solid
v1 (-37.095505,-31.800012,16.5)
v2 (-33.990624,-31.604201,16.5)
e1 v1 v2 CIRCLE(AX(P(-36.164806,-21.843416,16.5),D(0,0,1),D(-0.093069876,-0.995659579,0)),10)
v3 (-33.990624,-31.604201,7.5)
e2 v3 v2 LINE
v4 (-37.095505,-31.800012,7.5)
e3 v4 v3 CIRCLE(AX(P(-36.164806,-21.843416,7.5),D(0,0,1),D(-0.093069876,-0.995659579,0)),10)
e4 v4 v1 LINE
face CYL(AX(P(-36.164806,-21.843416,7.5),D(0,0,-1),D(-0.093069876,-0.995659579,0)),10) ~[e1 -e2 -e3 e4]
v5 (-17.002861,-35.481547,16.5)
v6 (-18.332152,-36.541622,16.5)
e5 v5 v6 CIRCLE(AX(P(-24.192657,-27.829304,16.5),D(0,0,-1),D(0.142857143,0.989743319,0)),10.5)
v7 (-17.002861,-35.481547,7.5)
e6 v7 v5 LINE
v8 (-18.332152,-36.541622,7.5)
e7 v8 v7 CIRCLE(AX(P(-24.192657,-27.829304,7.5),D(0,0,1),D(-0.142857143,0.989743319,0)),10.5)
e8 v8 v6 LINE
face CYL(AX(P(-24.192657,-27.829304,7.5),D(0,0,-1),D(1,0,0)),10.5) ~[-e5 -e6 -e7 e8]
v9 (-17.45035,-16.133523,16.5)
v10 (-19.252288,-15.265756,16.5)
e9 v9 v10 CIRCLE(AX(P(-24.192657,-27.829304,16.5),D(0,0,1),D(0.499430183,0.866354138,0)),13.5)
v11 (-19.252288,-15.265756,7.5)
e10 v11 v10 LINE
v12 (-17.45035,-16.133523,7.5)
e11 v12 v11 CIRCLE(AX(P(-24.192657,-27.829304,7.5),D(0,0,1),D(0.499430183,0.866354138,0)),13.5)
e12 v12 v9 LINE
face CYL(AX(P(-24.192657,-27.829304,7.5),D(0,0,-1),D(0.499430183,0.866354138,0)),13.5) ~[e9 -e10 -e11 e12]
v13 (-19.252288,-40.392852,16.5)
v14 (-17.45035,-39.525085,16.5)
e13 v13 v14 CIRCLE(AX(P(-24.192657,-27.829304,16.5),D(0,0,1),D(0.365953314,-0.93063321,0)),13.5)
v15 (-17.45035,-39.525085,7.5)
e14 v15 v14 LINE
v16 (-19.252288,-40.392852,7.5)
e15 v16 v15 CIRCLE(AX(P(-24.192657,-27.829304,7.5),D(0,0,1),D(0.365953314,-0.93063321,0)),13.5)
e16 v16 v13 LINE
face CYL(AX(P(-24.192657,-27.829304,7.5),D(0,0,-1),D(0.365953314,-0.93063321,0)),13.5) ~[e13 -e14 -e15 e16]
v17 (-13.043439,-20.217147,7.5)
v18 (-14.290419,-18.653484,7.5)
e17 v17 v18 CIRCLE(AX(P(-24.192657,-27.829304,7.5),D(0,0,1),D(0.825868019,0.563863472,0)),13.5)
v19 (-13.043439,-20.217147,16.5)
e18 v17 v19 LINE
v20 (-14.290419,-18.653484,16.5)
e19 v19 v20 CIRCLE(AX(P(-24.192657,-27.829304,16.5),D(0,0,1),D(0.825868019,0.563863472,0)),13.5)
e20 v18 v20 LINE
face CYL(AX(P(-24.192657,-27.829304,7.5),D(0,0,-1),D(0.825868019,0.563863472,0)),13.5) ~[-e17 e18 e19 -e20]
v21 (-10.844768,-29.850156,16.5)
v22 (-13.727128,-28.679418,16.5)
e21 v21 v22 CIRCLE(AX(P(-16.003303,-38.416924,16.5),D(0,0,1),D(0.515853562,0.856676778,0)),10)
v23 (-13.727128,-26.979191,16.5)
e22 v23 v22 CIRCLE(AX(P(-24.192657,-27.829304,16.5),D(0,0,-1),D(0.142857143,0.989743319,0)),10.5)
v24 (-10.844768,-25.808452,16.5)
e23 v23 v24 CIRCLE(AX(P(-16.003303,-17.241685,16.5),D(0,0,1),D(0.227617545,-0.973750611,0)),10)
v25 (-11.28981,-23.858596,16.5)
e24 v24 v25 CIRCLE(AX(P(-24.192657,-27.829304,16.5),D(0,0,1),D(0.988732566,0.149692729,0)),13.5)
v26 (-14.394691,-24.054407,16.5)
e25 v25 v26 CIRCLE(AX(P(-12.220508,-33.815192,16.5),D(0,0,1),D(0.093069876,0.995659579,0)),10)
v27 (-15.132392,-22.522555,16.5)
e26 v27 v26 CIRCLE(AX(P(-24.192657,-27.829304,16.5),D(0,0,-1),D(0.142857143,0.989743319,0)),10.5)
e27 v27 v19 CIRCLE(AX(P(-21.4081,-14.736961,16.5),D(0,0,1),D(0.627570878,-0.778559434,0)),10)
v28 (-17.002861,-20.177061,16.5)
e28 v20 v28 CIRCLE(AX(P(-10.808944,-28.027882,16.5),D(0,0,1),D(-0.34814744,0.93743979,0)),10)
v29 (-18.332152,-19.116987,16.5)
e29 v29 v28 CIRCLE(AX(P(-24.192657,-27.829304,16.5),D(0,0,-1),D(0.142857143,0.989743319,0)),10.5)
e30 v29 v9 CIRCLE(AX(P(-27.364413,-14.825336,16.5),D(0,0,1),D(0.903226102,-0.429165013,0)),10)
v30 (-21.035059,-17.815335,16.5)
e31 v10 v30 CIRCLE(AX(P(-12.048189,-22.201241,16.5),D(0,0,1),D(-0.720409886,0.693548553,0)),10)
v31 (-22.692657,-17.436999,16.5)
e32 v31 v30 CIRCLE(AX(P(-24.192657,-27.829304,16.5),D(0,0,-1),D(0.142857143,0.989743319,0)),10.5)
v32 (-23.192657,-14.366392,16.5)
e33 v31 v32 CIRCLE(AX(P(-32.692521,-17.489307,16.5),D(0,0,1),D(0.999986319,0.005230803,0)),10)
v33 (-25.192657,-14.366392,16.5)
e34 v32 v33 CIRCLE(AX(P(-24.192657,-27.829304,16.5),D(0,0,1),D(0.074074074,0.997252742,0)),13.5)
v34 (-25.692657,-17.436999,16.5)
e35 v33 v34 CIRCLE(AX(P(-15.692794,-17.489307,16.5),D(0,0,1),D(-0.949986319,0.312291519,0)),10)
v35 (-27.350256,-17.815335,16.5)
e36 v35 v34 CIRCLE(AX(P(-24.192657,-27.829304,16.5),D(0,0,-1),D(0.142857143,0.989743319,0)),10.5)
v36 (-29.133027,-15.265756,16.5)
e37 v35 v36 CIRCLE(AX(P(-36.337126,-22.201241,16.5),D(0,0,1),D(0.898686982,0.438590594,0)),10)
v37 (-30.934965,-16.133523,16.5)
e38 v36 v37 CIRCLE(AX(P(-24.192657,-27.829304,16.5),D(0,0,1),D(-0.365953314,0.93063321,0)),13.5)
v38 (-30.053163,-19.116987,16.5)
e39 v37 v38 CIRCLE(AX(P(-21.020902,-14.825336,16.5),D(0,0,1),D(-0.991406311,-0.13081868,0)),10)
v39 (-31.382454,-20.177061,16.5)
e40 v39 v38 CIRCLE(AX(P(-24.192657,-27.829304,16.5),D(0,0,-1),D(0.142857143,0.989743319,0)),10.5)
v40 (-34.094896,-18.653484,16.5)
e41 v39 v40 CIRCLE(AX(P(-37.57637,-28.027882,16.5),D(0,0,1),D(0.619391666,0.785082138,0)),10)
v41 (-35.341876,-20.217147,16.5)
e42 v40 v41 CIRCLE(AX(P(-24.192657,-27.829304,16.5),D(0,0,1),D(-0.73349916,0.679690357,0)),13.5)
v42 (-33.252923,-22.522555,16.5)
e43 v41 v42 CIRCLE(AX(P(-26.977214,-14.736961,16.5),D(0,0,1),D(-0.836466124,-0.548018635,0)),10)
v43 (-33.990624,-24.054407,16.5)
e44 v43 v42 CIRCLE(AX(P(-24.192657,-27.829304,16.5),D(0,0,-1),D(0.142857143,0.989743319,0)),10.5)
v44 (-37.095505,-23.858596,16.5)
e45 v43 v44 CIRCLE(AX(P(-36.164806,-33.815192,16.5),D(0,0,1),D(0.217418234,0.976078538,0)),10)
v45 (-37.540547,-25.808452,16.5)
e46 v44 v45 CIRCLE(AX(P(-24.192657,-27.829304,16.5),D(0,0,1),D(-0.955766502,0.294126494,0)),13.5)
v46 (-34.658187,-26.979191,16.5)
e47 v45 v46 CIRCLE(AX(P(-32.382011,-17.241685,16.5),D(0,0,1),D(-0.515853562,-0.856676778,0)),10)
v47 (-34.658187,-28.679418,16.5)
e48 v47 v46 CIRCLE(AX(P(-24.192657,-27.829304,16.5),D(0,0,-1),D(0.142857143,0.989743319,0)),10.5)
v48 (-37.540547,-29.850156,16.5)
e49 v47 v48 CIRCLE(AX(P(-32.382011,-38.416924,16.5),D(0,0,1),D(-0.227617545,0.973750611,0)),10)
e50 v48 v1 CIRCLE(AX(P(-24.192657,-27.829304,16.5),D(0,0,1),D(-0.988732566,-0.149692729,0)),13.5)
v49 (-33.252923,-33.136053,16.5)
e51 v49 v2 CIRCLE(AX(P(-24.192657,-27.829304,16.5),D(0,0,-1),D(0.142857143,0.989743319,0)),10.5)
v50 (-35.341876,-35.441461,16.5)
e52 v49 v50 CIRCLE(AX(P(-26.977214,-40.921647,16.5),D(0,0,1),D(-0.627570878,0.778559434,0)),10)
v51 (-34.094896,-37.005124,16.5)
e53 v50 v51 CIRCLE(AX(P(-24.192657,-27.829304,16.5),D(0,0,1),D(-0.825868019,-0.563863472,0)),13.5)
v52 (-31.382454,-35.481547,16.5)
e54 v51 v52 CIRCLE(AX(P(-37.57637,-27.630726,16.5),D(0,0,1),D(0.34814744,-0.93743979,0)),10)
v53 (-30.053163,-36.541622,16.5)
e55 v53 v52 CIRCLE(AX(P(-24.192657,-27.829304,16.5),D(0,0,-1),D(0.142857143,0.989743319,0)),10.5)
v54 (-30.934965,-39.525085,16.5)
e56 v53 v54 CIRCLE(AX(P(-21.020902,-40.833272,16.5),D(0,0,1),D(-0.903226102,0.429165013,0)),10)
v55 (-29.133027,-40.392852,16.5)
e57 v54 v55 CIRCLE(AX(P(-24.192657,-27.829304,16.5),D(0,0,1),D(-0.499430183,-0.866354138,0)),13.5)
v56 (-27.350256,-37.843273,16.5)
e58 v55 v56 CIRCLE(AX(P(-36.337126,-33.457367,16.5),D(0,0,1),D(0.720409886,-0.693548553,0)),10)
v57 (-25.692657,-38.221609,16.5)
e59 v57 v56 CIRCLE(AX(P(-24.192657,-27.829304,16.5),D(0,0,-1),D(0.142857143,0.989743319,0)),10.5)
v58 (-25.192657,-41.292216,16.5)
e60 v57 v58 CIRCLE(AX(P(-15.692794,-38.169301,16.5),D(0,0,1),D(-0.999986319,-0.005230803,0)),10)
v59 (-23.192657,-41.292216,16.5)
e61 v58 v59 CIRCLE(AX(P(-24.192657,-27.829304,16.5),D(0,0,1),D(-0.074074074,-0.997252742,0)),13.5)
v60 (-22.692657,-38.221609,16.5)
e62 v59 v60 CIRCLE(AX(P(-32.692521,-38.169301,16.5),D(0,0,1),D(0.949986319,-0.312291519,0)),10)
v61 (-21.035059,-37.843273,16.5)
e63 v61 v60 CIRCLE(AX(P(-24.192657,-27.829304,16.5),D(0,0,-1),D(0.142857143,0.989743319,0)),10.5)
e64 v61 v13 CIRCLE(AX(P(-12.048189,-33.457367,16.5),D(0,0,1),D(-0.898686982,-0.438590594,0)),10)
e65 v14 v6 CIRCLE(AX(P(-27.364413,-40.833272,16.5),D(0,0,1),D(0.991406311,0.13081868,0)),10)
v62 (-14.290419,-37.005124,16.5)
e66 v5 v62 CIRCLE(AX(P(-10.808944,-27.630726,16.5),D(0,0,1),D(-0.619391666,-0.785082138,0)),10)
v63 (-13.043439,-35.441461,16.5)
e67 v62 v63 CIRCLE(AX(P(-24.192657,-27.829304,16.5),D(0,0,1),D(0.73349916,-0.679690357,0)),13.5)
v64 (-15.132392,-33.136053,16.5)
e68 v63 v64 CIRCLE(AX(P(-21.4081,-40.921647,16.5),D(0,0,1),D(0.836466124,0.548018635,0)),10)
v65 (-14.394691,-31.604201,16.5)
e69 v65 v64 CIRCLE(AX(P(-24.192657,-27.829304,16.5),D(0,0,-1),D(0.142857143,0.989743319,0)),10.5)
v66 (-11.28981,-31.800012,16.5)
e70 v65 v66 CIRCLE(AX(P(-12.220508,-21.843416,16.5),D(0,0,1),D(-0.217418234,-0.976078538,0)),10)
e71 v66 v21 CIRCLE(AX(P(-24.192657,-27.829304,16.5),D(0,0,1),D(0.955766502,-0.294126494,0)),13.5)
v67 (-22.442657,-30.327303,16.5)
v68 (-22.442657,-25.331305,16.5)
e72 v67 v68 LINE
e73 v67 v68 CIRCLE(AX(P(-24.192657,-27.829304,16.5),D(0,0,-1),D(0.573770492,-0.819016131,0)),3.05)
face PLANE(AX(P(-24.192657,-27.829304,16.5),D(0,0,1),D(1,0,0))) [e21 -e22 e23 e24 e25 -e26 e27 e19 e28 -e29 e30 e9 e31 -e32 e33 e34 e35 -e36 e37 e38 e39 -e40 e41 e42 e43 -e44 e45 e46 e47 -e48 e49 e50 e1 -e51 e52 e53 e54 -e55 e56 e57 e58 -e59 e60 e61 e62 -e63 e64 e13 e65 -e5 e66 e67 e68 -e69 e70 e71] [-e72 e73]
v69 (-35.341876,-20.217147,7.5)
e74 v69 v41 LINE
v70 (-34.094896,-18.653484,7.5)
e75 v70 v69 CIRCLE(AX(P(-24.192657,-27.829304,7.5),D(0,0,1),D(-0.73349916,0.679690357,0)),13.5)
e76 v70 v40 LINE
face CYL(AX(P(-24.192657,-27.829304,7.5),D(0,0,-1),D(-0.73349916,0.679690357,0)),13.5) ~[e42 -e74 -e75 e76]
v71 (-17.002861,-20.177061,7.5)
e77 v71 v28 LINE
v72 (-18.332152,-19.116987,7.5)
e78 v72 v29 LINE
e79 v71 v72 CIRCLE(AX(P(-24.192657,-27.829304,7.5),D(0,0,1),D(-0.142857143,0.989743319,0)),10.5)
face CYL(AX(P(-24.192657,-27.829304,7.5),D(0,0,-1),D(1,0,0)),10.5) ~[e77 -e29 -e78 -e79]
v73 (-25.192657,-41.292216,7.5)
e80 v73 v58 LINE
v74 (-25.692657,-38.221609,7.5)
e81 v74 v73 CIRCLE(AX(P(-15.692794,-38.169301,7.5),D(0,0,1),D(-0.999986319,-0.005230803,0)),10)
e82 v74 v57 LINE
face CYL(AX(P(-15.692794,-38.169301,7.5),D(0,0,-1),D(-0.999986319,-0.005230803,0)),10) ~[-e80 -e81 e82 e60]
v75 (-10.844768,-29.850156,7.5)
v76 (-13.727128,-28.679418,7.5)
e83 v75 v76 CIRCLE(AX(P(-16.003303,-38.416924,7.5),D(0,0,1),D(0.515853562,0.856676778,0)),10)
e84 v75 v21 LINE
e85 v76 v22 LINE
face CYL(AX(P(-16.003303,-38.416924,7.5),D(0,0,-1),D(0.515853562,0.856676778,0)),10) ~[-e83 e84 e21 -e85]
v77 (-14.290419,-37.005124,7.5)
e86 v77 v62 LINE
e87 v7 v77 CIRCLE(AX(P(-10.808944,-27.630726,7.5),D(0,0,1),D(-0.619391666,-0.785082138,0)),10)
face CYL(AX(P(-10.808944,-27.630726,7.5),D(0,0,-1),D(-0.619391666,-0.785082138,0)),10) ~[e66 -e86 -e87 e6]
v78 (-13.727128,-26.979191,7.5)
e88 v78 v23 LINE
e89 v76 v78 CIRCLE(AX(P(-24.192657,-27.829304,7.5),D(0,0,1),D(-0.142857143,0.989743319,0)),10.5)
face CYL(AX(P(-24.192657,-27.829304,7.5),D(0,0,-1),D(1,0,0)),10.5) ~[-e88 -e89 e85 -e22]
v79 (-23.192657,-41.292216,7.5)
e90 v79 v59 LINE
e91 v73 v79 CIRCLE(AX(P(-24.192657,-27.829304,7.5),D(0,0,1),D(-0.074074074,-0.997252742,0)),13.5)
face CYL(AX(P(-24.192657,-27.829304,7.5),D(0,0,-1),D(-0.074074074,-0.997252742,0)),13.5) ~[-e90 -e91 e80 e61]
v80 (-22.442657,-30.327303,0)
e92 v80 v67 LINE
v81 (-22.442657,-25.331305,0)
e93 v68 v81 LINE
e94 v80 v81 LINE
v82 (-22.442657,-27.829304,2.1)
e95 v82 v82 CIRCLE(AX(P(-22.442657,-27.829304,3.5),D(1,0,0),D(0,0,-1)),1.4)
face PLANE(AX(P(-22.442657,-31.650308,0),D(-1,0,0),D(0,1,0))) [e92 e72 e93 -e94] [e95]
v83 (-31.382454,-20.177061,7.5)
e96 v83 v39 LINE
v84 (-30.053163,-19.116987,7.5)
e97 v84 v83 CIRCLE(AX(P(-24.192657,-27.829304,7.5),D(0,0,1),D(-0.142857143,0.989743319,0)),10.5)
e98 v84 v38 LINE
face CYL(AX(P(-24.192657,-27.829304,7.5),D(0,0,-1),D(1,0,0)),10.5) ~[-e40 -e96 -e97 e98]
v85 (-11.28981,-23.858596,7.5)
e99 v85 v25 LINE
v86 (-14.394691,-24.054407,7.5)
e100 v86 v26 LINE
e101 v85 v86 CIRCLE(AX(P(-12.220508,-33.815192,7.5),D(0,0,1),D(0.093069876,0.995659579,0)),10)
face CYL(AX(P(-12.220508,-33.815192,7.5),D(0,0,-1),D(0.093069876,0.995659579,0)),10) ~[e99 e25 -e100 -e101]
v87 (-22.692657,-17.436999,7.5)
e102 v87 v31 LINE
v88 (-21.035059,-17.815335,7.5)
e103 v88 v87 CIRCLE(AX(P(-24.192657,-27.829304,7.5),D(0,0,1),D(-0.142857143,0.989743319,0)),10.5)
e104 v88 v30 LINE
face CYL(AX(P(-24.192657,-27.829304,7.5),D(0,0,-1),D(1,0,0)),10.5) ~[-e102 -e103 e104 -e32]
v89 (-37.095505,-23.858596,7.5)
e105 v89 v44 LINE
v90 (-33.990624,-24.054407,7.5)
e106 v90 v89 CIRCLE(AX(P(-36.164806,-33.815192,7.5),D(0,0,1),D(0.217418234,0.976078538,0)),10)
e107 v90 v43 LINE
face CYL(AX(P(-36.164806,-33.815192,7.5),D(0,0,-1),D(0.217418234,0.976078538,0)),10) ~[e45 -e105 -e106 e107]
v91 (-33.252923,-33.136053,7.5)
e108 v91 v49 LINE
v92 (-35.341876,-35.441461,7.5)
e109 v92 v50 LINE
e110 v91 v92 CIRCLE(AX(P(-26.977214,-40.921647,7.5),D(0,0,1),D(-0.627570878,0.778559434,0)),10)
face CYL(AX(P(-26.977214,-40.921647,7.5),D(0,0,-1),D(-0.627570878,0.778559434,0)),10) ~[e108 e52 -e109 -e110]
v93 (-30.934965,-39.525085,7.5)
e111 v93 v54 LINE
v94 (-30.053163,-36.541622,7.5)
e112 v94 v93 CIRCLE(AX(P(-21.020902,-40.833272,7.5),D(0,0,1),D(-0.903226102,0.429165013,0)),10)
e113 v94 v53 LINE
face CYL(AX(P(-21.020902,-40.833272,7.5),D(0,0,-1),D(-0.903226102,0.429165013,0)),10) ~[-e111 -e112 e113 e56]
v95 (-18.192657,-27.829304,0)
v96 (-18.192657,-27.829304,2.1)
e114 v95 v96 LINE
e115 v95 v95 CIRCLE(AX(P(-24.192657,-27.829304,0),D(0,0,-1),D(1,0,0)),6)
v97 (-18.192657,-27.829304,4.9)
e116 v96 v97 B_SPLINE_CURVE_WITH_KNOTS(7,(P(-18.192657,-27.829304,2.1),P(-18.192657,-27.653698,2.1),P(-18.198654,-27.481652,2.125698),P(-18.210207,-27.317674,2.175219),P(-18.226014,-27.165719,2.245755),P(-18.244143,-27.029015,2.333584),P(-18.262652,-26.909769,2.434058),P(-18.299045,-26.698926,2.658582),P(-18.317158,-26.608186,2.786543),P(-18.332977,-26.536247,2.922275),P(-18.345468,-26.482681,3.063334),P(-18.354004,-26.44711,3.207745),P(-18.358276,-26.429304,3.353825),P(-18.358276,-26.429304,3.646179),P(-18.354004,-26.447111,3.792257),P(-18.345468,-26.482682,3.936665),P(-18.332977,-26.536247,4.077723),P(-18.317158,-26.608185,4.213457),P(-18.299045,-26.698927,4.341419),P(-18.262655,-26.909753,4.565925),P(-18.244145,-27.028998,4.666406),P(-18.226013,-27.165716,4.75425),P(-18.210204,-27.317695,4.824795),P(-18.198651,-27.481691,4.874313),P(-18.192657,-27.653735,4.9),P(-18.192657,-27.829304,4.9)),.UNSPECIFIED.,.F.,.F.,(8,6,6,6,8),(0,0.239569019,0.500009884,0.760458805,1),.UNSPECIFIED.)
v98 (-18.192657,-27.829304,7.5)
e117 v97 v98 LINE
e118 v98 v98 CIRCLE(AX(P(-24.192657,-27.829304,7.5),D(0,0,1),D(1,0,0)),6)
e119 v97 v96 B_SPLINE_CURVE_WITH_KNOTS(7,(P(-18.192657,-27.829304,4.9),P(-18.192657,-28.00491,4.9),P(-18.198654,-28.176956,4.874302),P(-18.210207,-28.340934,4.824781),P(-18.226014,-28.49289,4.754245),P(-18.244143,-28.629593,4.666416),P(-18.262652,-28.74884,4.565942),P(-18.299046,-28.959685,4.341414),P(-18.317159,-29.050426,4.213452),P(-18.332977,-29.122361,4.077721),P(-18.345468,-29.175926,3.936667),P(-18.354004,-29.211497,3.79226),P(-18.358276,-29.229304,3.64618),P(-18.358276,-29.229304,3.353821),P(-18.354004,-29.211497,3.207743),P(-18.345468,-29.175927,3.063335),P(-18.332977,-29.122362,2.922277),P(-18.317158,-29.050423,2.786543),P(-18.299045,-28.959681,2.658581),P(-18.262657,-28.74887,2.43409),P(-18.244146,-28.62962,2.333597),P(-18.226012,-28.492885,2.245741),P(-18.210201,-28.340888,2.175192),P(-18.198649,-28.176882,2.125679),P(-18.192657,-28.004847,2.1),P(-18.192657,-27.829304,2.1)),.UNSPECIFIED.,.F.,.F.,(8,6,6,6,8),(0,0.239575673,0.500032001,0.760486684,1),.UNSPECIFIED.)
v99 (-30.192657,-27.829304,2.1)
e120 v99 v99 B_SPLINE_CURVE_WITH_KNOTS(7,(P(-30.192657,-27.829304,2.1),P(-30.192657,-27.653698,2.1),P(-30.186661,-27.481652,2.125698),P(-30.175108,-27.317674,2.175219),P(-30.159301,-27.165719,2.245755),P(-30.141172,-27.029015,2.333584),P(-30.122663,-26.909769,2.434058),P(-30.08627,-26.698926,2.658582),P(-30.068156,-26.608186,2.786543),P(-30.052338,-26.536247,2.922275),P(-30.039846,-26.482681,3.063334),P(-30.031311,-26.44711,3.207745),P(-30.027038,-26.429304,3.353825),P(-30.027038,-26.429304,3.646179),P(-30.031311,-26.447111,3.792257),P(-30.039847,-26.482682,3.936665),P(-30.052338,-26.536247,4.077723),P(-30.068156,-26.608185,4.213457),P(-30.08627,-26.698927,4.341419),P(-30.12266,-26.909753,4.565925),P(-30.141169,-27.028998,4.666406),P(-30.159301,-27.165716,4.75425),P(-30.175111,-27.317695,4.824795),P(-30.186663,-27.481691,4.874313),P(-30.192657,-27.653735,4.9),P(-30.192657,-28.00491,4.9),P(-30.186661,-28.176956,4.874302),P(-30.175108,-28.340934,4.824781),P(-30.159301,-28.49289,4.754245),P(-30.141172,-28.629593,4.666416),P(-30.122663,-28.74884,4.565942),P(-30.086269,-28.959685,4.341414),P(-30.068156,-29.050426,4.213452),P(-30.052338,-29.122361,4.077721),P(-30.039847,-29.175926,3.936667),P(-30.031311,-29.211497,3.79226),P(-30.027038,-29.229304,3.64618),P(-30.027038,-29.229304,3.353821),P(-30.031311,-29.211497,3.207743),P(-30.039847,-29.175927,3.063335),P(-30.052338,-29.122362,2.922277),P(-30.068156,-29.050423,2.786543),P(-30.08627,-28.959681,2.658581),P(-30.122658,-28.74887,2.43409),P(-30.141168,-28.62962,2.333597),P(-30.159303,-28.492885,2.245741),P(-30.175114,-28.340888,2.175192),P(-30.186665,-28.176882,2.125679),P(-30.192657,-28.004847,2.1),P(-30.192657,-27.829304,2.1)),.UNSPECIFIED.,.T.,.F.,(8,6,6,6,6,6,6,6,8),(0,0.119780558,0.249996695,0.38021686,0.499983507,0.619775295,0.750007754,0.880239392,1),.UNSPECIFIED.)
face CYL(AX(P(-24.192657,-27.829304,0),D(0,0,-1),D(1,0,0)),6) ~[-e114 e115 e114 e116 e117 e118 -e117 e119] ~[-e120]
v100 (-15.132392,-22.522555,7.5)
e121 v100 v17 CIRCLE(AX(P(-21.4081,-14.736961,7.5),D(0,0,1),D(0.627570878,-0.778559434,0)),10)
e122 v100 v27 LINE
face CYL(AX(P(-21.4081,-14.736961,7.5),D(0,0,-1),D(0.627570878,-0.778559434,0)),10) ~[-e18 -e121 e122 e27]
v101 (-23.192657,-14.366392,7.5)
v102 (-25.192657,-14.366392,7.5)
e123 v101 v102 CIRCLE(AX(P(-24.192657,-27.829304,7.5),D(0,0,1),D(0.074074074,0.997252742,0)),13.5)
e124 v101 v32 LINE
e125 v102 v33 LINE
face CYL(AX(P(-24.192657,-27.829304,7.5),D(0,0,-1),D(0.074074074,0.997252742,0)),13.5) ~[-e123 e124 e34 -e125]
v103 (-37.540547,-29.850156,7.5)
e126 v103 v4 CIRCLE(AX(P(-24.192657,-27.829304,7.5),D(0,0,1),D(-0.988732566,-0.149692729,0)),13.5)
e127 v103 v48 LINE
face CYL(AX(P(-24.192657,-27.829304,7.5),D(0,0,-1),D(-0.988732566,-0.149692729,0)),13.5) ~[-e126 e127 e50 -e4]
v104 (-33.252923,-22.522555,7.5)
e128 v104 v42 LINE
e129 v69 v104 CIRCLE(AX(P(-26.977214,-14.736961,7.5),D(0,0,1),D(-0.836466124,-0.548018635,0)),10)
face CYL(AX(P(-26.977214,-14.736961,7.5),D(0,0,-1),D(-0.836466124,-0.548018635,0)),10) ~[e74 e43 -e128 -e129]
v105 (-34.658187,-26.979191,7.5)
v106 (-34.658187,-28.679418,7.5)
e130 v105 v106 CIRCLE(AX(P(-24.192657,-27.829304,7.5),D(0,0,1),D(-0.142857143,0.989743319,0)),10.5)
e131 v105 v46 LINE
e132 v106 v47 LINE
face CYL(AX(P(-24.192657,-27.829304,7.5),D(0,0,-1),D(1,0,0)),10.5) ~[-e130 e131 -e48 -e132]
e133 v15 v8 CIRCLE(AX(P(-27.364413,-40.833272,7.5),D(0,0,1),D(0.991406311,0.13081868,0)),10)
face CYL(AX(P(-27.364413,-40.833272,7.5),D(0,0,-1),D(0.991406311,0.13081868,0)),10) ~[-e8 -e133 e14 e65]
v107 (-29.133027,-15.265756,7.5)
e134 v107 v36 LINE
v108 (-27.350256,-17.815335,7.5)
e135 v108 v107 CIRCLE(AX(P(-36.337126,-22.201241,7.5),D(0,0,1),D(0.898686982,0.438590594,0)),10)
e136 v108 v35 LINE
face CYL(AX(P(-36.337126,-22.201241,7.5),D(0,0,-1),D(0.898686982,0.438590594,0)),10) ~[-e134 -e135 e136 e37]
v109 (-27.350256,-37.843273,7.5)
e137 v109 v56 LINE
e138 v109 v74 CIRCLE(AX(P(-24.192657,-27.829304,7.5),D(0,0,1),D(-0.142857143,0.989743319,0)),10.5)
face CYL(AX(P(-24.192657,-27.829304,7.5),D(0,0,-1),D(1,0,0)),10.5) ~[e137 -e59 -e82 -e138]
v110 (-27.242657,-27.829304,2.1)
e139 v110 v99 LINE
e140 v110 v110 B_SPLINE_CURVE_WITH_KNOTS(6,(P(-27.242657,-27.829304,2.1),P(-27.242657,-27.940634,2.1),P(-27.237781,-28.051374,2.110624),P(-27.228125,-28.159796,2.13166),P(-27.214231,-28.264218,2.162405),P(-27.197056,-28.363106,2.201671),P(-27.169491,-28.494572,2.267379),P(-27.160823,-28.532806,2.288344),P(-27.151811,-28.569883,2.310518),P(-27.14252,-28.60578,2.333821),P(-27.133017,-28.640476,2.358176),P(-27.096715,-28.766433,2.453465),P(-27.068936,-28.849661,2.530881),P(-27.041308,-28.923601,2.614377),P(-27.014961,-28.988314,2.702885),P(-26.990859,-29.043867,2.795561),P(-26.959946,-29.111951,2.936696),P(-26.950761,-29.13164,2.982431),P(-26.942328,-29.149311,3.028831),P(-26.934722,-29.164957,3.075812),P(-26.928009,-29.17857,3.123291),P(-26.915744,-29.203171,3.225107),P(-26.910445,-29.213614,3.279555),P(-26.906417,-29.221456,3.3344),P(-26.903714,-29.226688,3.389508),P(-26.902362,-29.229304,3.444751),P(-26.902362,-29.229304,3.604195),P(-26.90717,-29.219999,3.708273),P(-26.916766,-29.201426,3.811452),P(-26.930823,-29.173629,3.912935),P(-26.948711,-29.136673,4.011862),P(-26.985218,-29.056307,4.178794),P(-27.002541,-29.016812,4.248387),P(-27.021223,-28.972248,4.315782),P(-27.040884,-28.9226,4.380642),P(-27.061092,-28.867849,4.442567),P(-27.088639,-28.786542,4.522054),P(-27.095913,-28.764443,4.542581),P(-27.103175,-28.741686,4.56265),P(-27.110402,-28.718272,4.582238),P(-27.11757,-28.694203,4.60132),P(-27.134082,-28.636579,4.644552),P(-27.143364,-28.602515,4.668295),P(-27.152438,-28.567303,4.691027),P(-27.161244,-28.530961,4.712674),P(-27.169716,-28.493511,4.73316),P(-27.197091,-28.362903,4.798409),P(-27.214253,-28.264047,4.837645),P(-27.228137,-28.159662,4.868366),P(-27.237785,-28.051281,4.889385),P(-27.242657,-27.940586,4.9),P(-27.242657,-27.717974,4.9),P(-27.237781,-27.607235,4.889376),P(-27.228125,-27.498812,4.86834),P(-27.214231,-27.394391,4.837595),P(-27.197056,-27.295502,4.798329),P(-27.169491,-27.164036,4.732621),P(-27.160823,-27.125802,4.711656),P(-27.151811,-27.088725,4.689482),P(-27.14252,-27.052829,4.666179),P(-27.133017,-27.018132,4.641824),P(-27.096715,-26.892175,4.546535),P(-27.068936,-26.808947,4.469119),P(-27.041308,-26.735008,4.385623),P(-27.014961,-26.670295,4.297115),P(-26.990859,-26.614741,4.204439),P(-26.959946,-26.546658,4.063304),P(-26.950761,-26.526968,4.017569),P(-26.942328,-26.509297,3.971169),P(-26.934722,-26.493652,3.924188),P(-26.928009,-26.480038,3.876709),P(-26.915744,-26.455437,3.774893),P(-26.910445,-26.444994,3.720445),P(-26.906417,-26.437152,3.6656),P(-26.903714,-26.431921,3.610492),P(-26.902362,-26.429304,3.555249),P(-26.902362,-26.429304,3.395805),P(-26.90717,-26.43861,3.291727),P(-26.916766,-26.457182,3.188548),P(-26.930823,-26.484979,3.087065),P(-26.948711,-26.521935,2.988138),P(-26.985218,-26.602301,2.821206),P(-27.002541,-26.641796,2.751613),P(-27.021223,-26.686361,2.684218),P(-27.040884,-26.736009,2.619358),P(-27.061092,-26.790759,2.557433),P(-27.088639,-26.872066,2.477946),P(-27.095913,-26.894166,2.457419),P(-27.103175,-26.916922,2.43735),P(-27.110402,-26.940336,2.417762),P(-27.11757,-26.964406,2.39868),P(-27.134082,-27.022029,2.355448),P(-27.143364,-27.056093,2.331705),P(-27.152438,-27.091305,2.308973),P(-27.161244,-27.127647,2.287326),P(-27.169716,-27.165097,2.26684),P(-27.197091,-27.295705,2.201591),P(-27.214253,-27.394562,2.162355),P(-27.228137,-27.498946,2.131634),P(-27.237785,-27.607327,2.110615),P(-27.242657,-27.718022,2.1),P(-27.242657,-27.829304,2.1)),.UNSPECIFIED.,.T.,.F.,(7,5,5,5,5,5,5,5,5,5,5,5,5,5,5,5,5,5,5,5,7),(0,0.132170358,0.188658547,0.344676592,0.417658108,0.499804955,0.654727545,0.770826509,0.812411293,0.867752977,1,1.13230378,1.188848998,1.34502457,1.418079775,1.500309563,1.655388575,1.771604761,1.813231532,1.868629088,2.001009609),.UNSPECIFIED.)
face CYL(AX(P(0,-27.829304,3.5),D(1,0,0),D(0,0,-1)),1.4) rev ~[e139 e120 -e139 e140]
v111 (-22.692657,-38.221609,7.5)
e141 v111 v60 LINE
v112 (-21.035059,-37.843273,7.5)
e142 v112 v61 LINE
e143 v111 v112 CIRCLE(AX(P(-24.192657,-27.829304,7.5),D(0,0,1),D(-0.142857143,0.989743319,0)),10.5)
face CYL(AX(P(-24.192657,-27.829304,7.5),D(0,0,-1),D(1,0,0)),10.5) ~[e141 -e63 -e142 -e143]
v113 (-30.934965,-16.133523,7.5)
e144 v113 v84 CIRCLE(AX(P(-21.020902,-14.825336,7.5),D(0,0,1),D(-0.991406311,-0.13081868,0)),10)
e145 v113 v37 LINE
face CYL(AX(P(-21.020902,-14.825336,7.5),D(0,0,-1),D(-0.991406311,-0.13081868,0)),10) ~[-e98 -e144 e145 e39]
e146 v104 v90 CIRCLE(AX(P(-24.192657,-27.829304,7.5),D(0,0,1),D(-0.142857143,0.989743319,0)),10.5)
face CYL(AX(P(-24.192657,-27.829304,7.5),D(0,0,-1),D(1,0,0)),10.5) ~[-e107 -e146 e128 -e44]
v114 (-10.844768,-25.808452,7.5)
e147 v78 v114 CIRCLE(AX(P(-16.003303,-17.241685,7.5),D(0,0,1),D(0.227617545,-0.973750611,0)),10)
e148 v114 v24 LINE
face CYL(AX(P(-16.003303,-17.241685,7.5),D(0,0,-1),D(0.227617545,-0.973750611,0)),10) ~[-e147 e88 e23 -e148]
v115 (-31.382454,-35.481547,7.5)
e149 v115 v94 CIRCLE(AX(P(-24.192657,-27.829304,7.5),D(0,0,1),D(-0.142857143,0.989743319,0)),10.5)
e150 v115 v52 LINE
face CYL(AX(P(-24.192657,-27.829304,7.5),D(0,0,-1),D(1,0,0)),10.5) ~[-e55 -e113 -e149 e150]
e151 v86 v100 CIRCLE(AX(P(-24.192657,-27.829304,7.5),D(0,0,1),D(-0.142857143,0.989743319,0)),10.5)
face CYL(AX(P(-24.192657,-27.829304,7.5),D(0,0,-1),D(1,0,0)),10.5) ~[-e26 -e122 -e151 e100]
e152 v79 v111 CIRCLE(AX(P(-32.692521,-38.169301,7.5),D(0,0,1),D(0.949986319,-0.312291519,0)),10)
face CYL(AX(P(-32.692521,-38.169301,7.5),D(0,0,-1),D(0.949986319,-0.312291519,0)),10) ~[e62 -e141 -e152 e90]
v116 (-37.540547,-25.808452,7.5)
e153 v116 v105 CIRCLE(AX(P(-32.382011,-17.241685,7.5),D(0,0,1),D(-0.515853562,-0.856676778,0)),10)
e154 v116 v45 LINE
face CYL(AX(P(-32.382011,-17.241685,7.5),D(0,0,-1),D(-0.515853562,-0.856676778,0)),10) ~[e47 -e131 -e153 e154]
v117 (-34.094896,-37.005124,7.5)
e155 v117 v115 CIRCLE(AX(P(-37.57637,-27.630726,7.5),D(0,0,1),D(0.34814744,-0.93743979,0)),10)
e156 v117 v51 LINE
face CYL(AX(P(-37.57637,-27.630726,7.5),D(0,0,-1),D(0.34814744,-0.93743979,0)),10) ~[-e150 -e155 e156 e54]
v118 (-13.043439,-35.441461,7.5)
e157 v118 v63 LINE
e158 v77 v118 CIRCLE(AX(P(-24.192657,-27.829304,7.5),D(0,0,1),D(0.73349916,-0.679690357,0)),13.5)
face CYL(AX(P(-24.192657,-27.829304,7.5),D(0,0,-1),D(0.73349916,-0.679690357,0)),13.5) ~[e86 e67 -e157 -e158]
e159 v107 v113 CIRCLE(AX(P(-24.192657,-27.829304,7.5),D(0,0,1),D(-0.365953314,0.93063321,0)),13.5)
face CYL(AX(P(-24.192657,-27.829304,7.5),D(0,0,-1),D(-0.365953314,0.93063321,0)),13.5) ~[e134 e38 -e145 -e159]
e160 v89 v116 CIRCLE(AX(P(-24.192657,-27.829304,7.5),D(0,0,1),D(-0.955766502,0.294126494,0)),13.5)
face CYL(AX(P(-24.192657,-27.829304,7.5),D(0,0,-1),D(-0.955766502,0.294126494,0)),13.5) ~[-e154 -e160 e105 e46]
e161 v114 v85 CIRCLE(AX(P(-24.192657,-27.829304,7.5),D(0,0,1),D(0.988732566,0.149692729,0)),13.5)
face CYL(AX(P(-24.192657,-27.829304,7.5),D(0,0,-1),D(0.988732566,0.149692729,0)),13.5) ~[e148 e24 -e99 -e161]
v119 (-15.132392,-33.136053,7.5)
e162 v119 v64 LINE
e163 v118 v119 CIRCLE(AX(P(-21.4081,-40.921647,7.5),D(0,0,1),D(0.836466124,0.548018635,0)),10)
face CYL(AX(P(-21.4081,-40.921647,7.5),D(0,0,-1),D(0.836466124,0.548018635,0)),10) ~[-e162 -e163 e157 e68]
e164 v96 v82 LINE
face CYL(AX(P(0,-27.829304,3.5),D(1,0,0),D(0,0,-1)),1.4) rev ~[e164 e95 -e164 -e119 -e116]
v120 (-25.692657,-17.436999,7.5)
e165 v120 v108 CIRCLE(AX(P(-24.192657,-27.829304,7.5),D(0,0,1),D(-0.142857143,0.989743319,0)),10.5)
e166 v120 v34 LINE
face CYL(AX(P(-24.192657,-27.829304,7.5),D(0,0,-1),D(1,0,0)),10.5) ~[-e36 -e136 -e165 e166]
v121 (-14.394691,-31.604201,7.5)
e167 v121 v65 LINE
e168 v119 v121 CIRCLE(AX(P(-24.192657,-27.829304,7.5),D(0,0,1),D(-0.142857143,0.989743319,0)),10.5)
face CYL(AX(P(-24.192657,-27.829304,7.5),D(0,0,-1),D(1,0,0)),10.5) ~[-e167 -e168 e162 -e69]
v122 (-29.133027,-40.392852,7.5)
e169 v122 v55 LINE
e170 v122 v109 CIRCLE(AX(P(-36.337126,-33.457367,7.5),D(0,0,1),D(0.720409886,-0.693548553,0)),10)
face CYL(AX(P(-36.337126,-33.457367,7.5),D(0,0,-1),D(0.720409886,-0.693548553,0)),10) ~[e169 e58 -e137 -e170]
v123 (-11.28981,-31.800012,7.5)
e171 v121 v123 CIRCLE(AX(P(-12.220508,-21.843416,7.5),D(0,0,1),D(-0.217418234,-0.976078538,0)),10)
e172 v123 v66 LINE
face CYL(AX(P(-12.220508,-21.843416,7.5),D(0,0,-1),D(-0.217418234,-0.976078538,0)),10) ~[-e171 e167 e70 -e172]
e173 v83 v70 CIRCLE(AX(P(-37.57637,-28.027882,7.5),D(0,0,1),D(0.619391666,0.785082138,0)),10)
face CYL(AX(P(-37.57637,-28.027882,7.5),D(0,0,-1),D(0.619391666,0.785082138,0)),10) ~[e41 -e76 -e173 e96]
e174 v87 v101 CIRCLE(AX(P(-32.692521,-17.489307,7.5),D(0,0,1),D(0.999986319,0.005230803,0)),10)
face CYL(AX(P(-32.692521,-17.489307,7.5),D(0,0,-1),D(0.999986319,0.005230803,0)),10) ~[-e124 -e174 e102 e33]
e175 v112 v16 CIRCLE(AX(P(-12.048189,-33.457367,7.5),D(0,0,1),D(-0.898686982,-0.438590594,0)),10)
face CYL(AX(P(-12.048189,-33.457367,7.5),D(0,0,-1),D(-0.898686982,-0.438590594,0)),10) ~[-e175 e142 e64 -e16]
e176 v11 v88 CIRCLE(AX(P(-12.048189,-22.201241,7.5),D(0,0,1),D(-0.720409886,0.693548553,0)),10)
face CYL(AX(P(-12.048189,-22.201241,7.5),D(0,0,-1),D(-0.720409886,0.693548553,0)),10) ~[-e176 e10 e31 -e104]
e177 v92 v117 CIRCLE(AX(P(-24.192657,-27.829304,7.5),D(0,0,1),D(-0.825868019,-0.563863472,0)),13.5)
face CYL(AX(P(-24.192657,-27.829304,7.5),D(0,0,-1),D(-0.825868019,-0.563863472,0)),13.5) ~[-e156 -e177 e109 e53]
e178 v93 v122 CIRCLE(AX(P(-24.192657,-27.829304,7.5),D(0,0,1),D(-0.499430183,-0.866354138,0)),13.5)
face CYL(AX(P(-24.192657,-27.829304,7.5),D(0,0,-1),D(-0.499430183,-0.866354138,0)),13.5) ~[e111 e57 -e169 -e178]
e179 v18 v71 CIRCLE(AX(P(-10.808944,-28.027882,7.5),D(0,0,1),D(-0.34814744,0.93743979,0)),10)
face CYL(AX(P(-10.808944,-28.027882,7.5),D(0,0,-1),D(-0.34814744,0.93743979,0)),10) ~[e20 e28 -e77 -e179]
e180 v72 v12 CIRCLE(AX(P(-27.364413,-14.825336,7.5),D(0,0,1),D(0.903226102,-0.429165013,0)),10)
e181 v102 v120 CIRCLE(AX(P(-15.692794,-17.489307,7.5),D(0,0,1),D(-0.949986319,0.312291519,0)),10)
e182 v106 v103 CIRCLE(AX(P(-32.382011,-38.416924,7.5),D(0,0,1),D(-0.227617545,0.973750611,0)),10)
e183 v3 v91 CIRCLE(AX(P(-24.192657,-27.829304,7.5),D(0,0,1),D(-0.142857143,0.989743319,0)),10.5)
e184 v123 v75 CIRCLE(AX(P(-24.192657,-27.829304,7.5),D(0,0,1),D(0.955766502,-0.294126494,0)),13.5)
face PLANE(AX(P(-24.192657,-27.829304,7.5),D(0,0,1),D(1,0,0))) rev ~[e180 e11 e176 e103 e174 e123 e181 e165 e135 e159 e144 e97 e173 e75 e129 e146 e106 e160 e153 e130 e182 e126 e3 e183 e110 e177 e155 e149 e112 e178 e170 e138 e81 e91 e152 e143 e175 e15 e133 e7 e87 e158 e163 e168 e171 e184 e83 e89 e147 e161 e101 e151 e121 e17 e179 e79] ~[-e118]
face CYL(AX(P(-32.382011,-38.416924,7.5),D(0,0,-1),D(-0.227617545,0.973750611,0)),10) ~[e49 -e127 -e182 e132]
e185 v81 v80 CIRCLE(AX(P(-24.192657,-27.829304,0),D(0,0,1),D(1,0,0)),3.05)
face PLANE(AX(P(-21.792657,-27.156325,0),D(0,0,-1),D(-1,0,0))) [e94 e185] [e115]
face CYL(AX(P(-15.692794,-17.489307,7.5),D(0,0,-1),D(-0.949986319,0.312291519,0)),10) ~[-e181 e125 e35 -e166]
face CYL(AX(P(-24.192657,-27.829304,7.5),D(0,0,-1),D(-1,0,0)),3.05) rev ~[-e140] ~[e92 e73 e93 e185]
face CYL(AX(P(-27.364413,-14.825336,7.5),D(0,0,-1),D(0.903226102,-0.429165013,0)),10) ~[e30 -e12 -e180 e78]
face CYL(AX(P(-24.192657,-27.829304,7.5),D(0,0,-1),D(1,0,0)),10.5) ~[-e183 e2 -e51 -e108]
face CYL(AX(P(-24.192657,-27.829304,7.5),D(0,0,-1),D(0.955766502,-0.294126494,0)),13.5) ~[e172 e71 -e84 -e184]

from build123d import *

# Parameters (mm, degrees)
SKETCH1_R               = 6
SKETCH1_R_2             = 3.05
BOSS_EXTRUDE1_DEPTH     = 7.5
SKETCH2_R               = 10.5
BOSS_EXTRUDE3_DEPTH     = 9
BOSS_EXTRUDE4_DEPTH     = 9
CIRPATTERN1_COUNT       = 14
SKETCH3_R               = 3.05
CUT_EXTRUDE1_DEPTH      = 10
SKETCH5_W               = 1.3
SKETCH5_H               = 8.98796618
BOSS_EXTRUDE5_DEPTH     = 16.5
SKETCH4_R               = 1.4
CUT_EXTRUDE2_DEPTH      = 1
CUT_EXTRUDE2_DEPTH_BACK = 38.540546983


with BuildPart() as part:
    # Sketch1 → Boss-Extrude1 (new body)
    with BuildSketch(Plane.XY):
        with Locations((-24.192657344, -27.82930415)):
            Circle(SKETCH1_R)
        with Locations((-24.192657344, -27.82930415)):
            Circle(SKETCH1_R_2, mode=Mode.SUBTRACT)
    extrude(amount=BOSS_EXTRUDE1_DEPTH)

    # Sketch2 → Boss-Extrude3 (add)
    with BuildSketch(Plane.XY.offset(7.5)):
        with Locations((-24.192657344, -27.82930415)):
            Circle(SKETCH2_R)
    extrude(amount=BOSS_EXTRUDE3_DEPTH)

    # Sketch2<4> → Boss-Extrude4 (add)
    with BuildSketch(Plane.XY.offset(7.5)):
        with BuildLine():
            ThreePointArc((-22.692657344, -17.436999304), (-22.822516009, -15.882132595), (-23.192657344, -14.366392132))
            ThreePointArc((-23.192657344, -14.366392132), (-24.192657344, -14.32930415), (-25.192657344, -14.366392132))
            ThreePointArc((-25.192657344, -14.366392132), (-25.562798679, -15.882132595), (-25.692657344, -17.436999304))
            ThreePointArc((-25.692657344, -17.436999304), (-24.192657344, -17.32930415), (-22.692657344, -17.436999304))
        make_face()
    boss_extrude4 = extrude(amount=BOSS_EXTRUDE4_DEPTH)

    # CirPattern1: Boss-Extrude4 ×14 about axis
    cirpattern1_axis = Axis((-24.192657344, -27.82930415, 0), (0, 0, 1))
    for i in range(1, CIRPATTERN1_COUNT):
        add(boss_extrude4.rotate(cirpattern1_axis, i * 360 / CIRPATTERN1_COUNT))

    # Sketch3 → Cut-Extrude1 (cut, through all)
    with BuildSketch(Plane(origin=(0, 0, 7.5), x_dir=(-1, 0, 0), z_dir=(0, 0, -1))):
        with Locations((24.192657344, -27.82930415)):
            Circle(SKETCH3_R)
    extrude(amount=-CUT_EXTRUDE1_DEPTH, mode=Mode.SUBTRACT)

    # Sketch5 → Boss-Extrude5 (add, through all)
    with BuildSketch(Plane(origin=(0, 0, 0), x_dir=(-1, 0, 0), z_dir=(0, 0, -1))):
        with Locations((21.792657344, -27.156324883)):
            Rectangle(SKETCH5_W, SKETCH5_H)
    extrude(amount=-BOSS_EXTRUDE5_DEPTH)

    # Sketch4 → Cut-Extrude2 (cut, two sides)
    with BuildSketch(Plane(origin=(0, 0, 0), x_dir=(0, 0, -1), z_dir=(1, 0, 0))) as cut_extrude2_sk:
        with Locations((-3.5, -27.82930415)):
            Circle(SKETCH4_R)
    extrude(amount=CUT_EXTRUDE2_DEPTH, mode=Mode.SUBTRACT)
    extrude(cut_extrude2_sk.sketch, amount=-CUT_EXTRUDE2_DEPTH_BACK, mode=Mode.SUBTRACT)


solid = part.part
